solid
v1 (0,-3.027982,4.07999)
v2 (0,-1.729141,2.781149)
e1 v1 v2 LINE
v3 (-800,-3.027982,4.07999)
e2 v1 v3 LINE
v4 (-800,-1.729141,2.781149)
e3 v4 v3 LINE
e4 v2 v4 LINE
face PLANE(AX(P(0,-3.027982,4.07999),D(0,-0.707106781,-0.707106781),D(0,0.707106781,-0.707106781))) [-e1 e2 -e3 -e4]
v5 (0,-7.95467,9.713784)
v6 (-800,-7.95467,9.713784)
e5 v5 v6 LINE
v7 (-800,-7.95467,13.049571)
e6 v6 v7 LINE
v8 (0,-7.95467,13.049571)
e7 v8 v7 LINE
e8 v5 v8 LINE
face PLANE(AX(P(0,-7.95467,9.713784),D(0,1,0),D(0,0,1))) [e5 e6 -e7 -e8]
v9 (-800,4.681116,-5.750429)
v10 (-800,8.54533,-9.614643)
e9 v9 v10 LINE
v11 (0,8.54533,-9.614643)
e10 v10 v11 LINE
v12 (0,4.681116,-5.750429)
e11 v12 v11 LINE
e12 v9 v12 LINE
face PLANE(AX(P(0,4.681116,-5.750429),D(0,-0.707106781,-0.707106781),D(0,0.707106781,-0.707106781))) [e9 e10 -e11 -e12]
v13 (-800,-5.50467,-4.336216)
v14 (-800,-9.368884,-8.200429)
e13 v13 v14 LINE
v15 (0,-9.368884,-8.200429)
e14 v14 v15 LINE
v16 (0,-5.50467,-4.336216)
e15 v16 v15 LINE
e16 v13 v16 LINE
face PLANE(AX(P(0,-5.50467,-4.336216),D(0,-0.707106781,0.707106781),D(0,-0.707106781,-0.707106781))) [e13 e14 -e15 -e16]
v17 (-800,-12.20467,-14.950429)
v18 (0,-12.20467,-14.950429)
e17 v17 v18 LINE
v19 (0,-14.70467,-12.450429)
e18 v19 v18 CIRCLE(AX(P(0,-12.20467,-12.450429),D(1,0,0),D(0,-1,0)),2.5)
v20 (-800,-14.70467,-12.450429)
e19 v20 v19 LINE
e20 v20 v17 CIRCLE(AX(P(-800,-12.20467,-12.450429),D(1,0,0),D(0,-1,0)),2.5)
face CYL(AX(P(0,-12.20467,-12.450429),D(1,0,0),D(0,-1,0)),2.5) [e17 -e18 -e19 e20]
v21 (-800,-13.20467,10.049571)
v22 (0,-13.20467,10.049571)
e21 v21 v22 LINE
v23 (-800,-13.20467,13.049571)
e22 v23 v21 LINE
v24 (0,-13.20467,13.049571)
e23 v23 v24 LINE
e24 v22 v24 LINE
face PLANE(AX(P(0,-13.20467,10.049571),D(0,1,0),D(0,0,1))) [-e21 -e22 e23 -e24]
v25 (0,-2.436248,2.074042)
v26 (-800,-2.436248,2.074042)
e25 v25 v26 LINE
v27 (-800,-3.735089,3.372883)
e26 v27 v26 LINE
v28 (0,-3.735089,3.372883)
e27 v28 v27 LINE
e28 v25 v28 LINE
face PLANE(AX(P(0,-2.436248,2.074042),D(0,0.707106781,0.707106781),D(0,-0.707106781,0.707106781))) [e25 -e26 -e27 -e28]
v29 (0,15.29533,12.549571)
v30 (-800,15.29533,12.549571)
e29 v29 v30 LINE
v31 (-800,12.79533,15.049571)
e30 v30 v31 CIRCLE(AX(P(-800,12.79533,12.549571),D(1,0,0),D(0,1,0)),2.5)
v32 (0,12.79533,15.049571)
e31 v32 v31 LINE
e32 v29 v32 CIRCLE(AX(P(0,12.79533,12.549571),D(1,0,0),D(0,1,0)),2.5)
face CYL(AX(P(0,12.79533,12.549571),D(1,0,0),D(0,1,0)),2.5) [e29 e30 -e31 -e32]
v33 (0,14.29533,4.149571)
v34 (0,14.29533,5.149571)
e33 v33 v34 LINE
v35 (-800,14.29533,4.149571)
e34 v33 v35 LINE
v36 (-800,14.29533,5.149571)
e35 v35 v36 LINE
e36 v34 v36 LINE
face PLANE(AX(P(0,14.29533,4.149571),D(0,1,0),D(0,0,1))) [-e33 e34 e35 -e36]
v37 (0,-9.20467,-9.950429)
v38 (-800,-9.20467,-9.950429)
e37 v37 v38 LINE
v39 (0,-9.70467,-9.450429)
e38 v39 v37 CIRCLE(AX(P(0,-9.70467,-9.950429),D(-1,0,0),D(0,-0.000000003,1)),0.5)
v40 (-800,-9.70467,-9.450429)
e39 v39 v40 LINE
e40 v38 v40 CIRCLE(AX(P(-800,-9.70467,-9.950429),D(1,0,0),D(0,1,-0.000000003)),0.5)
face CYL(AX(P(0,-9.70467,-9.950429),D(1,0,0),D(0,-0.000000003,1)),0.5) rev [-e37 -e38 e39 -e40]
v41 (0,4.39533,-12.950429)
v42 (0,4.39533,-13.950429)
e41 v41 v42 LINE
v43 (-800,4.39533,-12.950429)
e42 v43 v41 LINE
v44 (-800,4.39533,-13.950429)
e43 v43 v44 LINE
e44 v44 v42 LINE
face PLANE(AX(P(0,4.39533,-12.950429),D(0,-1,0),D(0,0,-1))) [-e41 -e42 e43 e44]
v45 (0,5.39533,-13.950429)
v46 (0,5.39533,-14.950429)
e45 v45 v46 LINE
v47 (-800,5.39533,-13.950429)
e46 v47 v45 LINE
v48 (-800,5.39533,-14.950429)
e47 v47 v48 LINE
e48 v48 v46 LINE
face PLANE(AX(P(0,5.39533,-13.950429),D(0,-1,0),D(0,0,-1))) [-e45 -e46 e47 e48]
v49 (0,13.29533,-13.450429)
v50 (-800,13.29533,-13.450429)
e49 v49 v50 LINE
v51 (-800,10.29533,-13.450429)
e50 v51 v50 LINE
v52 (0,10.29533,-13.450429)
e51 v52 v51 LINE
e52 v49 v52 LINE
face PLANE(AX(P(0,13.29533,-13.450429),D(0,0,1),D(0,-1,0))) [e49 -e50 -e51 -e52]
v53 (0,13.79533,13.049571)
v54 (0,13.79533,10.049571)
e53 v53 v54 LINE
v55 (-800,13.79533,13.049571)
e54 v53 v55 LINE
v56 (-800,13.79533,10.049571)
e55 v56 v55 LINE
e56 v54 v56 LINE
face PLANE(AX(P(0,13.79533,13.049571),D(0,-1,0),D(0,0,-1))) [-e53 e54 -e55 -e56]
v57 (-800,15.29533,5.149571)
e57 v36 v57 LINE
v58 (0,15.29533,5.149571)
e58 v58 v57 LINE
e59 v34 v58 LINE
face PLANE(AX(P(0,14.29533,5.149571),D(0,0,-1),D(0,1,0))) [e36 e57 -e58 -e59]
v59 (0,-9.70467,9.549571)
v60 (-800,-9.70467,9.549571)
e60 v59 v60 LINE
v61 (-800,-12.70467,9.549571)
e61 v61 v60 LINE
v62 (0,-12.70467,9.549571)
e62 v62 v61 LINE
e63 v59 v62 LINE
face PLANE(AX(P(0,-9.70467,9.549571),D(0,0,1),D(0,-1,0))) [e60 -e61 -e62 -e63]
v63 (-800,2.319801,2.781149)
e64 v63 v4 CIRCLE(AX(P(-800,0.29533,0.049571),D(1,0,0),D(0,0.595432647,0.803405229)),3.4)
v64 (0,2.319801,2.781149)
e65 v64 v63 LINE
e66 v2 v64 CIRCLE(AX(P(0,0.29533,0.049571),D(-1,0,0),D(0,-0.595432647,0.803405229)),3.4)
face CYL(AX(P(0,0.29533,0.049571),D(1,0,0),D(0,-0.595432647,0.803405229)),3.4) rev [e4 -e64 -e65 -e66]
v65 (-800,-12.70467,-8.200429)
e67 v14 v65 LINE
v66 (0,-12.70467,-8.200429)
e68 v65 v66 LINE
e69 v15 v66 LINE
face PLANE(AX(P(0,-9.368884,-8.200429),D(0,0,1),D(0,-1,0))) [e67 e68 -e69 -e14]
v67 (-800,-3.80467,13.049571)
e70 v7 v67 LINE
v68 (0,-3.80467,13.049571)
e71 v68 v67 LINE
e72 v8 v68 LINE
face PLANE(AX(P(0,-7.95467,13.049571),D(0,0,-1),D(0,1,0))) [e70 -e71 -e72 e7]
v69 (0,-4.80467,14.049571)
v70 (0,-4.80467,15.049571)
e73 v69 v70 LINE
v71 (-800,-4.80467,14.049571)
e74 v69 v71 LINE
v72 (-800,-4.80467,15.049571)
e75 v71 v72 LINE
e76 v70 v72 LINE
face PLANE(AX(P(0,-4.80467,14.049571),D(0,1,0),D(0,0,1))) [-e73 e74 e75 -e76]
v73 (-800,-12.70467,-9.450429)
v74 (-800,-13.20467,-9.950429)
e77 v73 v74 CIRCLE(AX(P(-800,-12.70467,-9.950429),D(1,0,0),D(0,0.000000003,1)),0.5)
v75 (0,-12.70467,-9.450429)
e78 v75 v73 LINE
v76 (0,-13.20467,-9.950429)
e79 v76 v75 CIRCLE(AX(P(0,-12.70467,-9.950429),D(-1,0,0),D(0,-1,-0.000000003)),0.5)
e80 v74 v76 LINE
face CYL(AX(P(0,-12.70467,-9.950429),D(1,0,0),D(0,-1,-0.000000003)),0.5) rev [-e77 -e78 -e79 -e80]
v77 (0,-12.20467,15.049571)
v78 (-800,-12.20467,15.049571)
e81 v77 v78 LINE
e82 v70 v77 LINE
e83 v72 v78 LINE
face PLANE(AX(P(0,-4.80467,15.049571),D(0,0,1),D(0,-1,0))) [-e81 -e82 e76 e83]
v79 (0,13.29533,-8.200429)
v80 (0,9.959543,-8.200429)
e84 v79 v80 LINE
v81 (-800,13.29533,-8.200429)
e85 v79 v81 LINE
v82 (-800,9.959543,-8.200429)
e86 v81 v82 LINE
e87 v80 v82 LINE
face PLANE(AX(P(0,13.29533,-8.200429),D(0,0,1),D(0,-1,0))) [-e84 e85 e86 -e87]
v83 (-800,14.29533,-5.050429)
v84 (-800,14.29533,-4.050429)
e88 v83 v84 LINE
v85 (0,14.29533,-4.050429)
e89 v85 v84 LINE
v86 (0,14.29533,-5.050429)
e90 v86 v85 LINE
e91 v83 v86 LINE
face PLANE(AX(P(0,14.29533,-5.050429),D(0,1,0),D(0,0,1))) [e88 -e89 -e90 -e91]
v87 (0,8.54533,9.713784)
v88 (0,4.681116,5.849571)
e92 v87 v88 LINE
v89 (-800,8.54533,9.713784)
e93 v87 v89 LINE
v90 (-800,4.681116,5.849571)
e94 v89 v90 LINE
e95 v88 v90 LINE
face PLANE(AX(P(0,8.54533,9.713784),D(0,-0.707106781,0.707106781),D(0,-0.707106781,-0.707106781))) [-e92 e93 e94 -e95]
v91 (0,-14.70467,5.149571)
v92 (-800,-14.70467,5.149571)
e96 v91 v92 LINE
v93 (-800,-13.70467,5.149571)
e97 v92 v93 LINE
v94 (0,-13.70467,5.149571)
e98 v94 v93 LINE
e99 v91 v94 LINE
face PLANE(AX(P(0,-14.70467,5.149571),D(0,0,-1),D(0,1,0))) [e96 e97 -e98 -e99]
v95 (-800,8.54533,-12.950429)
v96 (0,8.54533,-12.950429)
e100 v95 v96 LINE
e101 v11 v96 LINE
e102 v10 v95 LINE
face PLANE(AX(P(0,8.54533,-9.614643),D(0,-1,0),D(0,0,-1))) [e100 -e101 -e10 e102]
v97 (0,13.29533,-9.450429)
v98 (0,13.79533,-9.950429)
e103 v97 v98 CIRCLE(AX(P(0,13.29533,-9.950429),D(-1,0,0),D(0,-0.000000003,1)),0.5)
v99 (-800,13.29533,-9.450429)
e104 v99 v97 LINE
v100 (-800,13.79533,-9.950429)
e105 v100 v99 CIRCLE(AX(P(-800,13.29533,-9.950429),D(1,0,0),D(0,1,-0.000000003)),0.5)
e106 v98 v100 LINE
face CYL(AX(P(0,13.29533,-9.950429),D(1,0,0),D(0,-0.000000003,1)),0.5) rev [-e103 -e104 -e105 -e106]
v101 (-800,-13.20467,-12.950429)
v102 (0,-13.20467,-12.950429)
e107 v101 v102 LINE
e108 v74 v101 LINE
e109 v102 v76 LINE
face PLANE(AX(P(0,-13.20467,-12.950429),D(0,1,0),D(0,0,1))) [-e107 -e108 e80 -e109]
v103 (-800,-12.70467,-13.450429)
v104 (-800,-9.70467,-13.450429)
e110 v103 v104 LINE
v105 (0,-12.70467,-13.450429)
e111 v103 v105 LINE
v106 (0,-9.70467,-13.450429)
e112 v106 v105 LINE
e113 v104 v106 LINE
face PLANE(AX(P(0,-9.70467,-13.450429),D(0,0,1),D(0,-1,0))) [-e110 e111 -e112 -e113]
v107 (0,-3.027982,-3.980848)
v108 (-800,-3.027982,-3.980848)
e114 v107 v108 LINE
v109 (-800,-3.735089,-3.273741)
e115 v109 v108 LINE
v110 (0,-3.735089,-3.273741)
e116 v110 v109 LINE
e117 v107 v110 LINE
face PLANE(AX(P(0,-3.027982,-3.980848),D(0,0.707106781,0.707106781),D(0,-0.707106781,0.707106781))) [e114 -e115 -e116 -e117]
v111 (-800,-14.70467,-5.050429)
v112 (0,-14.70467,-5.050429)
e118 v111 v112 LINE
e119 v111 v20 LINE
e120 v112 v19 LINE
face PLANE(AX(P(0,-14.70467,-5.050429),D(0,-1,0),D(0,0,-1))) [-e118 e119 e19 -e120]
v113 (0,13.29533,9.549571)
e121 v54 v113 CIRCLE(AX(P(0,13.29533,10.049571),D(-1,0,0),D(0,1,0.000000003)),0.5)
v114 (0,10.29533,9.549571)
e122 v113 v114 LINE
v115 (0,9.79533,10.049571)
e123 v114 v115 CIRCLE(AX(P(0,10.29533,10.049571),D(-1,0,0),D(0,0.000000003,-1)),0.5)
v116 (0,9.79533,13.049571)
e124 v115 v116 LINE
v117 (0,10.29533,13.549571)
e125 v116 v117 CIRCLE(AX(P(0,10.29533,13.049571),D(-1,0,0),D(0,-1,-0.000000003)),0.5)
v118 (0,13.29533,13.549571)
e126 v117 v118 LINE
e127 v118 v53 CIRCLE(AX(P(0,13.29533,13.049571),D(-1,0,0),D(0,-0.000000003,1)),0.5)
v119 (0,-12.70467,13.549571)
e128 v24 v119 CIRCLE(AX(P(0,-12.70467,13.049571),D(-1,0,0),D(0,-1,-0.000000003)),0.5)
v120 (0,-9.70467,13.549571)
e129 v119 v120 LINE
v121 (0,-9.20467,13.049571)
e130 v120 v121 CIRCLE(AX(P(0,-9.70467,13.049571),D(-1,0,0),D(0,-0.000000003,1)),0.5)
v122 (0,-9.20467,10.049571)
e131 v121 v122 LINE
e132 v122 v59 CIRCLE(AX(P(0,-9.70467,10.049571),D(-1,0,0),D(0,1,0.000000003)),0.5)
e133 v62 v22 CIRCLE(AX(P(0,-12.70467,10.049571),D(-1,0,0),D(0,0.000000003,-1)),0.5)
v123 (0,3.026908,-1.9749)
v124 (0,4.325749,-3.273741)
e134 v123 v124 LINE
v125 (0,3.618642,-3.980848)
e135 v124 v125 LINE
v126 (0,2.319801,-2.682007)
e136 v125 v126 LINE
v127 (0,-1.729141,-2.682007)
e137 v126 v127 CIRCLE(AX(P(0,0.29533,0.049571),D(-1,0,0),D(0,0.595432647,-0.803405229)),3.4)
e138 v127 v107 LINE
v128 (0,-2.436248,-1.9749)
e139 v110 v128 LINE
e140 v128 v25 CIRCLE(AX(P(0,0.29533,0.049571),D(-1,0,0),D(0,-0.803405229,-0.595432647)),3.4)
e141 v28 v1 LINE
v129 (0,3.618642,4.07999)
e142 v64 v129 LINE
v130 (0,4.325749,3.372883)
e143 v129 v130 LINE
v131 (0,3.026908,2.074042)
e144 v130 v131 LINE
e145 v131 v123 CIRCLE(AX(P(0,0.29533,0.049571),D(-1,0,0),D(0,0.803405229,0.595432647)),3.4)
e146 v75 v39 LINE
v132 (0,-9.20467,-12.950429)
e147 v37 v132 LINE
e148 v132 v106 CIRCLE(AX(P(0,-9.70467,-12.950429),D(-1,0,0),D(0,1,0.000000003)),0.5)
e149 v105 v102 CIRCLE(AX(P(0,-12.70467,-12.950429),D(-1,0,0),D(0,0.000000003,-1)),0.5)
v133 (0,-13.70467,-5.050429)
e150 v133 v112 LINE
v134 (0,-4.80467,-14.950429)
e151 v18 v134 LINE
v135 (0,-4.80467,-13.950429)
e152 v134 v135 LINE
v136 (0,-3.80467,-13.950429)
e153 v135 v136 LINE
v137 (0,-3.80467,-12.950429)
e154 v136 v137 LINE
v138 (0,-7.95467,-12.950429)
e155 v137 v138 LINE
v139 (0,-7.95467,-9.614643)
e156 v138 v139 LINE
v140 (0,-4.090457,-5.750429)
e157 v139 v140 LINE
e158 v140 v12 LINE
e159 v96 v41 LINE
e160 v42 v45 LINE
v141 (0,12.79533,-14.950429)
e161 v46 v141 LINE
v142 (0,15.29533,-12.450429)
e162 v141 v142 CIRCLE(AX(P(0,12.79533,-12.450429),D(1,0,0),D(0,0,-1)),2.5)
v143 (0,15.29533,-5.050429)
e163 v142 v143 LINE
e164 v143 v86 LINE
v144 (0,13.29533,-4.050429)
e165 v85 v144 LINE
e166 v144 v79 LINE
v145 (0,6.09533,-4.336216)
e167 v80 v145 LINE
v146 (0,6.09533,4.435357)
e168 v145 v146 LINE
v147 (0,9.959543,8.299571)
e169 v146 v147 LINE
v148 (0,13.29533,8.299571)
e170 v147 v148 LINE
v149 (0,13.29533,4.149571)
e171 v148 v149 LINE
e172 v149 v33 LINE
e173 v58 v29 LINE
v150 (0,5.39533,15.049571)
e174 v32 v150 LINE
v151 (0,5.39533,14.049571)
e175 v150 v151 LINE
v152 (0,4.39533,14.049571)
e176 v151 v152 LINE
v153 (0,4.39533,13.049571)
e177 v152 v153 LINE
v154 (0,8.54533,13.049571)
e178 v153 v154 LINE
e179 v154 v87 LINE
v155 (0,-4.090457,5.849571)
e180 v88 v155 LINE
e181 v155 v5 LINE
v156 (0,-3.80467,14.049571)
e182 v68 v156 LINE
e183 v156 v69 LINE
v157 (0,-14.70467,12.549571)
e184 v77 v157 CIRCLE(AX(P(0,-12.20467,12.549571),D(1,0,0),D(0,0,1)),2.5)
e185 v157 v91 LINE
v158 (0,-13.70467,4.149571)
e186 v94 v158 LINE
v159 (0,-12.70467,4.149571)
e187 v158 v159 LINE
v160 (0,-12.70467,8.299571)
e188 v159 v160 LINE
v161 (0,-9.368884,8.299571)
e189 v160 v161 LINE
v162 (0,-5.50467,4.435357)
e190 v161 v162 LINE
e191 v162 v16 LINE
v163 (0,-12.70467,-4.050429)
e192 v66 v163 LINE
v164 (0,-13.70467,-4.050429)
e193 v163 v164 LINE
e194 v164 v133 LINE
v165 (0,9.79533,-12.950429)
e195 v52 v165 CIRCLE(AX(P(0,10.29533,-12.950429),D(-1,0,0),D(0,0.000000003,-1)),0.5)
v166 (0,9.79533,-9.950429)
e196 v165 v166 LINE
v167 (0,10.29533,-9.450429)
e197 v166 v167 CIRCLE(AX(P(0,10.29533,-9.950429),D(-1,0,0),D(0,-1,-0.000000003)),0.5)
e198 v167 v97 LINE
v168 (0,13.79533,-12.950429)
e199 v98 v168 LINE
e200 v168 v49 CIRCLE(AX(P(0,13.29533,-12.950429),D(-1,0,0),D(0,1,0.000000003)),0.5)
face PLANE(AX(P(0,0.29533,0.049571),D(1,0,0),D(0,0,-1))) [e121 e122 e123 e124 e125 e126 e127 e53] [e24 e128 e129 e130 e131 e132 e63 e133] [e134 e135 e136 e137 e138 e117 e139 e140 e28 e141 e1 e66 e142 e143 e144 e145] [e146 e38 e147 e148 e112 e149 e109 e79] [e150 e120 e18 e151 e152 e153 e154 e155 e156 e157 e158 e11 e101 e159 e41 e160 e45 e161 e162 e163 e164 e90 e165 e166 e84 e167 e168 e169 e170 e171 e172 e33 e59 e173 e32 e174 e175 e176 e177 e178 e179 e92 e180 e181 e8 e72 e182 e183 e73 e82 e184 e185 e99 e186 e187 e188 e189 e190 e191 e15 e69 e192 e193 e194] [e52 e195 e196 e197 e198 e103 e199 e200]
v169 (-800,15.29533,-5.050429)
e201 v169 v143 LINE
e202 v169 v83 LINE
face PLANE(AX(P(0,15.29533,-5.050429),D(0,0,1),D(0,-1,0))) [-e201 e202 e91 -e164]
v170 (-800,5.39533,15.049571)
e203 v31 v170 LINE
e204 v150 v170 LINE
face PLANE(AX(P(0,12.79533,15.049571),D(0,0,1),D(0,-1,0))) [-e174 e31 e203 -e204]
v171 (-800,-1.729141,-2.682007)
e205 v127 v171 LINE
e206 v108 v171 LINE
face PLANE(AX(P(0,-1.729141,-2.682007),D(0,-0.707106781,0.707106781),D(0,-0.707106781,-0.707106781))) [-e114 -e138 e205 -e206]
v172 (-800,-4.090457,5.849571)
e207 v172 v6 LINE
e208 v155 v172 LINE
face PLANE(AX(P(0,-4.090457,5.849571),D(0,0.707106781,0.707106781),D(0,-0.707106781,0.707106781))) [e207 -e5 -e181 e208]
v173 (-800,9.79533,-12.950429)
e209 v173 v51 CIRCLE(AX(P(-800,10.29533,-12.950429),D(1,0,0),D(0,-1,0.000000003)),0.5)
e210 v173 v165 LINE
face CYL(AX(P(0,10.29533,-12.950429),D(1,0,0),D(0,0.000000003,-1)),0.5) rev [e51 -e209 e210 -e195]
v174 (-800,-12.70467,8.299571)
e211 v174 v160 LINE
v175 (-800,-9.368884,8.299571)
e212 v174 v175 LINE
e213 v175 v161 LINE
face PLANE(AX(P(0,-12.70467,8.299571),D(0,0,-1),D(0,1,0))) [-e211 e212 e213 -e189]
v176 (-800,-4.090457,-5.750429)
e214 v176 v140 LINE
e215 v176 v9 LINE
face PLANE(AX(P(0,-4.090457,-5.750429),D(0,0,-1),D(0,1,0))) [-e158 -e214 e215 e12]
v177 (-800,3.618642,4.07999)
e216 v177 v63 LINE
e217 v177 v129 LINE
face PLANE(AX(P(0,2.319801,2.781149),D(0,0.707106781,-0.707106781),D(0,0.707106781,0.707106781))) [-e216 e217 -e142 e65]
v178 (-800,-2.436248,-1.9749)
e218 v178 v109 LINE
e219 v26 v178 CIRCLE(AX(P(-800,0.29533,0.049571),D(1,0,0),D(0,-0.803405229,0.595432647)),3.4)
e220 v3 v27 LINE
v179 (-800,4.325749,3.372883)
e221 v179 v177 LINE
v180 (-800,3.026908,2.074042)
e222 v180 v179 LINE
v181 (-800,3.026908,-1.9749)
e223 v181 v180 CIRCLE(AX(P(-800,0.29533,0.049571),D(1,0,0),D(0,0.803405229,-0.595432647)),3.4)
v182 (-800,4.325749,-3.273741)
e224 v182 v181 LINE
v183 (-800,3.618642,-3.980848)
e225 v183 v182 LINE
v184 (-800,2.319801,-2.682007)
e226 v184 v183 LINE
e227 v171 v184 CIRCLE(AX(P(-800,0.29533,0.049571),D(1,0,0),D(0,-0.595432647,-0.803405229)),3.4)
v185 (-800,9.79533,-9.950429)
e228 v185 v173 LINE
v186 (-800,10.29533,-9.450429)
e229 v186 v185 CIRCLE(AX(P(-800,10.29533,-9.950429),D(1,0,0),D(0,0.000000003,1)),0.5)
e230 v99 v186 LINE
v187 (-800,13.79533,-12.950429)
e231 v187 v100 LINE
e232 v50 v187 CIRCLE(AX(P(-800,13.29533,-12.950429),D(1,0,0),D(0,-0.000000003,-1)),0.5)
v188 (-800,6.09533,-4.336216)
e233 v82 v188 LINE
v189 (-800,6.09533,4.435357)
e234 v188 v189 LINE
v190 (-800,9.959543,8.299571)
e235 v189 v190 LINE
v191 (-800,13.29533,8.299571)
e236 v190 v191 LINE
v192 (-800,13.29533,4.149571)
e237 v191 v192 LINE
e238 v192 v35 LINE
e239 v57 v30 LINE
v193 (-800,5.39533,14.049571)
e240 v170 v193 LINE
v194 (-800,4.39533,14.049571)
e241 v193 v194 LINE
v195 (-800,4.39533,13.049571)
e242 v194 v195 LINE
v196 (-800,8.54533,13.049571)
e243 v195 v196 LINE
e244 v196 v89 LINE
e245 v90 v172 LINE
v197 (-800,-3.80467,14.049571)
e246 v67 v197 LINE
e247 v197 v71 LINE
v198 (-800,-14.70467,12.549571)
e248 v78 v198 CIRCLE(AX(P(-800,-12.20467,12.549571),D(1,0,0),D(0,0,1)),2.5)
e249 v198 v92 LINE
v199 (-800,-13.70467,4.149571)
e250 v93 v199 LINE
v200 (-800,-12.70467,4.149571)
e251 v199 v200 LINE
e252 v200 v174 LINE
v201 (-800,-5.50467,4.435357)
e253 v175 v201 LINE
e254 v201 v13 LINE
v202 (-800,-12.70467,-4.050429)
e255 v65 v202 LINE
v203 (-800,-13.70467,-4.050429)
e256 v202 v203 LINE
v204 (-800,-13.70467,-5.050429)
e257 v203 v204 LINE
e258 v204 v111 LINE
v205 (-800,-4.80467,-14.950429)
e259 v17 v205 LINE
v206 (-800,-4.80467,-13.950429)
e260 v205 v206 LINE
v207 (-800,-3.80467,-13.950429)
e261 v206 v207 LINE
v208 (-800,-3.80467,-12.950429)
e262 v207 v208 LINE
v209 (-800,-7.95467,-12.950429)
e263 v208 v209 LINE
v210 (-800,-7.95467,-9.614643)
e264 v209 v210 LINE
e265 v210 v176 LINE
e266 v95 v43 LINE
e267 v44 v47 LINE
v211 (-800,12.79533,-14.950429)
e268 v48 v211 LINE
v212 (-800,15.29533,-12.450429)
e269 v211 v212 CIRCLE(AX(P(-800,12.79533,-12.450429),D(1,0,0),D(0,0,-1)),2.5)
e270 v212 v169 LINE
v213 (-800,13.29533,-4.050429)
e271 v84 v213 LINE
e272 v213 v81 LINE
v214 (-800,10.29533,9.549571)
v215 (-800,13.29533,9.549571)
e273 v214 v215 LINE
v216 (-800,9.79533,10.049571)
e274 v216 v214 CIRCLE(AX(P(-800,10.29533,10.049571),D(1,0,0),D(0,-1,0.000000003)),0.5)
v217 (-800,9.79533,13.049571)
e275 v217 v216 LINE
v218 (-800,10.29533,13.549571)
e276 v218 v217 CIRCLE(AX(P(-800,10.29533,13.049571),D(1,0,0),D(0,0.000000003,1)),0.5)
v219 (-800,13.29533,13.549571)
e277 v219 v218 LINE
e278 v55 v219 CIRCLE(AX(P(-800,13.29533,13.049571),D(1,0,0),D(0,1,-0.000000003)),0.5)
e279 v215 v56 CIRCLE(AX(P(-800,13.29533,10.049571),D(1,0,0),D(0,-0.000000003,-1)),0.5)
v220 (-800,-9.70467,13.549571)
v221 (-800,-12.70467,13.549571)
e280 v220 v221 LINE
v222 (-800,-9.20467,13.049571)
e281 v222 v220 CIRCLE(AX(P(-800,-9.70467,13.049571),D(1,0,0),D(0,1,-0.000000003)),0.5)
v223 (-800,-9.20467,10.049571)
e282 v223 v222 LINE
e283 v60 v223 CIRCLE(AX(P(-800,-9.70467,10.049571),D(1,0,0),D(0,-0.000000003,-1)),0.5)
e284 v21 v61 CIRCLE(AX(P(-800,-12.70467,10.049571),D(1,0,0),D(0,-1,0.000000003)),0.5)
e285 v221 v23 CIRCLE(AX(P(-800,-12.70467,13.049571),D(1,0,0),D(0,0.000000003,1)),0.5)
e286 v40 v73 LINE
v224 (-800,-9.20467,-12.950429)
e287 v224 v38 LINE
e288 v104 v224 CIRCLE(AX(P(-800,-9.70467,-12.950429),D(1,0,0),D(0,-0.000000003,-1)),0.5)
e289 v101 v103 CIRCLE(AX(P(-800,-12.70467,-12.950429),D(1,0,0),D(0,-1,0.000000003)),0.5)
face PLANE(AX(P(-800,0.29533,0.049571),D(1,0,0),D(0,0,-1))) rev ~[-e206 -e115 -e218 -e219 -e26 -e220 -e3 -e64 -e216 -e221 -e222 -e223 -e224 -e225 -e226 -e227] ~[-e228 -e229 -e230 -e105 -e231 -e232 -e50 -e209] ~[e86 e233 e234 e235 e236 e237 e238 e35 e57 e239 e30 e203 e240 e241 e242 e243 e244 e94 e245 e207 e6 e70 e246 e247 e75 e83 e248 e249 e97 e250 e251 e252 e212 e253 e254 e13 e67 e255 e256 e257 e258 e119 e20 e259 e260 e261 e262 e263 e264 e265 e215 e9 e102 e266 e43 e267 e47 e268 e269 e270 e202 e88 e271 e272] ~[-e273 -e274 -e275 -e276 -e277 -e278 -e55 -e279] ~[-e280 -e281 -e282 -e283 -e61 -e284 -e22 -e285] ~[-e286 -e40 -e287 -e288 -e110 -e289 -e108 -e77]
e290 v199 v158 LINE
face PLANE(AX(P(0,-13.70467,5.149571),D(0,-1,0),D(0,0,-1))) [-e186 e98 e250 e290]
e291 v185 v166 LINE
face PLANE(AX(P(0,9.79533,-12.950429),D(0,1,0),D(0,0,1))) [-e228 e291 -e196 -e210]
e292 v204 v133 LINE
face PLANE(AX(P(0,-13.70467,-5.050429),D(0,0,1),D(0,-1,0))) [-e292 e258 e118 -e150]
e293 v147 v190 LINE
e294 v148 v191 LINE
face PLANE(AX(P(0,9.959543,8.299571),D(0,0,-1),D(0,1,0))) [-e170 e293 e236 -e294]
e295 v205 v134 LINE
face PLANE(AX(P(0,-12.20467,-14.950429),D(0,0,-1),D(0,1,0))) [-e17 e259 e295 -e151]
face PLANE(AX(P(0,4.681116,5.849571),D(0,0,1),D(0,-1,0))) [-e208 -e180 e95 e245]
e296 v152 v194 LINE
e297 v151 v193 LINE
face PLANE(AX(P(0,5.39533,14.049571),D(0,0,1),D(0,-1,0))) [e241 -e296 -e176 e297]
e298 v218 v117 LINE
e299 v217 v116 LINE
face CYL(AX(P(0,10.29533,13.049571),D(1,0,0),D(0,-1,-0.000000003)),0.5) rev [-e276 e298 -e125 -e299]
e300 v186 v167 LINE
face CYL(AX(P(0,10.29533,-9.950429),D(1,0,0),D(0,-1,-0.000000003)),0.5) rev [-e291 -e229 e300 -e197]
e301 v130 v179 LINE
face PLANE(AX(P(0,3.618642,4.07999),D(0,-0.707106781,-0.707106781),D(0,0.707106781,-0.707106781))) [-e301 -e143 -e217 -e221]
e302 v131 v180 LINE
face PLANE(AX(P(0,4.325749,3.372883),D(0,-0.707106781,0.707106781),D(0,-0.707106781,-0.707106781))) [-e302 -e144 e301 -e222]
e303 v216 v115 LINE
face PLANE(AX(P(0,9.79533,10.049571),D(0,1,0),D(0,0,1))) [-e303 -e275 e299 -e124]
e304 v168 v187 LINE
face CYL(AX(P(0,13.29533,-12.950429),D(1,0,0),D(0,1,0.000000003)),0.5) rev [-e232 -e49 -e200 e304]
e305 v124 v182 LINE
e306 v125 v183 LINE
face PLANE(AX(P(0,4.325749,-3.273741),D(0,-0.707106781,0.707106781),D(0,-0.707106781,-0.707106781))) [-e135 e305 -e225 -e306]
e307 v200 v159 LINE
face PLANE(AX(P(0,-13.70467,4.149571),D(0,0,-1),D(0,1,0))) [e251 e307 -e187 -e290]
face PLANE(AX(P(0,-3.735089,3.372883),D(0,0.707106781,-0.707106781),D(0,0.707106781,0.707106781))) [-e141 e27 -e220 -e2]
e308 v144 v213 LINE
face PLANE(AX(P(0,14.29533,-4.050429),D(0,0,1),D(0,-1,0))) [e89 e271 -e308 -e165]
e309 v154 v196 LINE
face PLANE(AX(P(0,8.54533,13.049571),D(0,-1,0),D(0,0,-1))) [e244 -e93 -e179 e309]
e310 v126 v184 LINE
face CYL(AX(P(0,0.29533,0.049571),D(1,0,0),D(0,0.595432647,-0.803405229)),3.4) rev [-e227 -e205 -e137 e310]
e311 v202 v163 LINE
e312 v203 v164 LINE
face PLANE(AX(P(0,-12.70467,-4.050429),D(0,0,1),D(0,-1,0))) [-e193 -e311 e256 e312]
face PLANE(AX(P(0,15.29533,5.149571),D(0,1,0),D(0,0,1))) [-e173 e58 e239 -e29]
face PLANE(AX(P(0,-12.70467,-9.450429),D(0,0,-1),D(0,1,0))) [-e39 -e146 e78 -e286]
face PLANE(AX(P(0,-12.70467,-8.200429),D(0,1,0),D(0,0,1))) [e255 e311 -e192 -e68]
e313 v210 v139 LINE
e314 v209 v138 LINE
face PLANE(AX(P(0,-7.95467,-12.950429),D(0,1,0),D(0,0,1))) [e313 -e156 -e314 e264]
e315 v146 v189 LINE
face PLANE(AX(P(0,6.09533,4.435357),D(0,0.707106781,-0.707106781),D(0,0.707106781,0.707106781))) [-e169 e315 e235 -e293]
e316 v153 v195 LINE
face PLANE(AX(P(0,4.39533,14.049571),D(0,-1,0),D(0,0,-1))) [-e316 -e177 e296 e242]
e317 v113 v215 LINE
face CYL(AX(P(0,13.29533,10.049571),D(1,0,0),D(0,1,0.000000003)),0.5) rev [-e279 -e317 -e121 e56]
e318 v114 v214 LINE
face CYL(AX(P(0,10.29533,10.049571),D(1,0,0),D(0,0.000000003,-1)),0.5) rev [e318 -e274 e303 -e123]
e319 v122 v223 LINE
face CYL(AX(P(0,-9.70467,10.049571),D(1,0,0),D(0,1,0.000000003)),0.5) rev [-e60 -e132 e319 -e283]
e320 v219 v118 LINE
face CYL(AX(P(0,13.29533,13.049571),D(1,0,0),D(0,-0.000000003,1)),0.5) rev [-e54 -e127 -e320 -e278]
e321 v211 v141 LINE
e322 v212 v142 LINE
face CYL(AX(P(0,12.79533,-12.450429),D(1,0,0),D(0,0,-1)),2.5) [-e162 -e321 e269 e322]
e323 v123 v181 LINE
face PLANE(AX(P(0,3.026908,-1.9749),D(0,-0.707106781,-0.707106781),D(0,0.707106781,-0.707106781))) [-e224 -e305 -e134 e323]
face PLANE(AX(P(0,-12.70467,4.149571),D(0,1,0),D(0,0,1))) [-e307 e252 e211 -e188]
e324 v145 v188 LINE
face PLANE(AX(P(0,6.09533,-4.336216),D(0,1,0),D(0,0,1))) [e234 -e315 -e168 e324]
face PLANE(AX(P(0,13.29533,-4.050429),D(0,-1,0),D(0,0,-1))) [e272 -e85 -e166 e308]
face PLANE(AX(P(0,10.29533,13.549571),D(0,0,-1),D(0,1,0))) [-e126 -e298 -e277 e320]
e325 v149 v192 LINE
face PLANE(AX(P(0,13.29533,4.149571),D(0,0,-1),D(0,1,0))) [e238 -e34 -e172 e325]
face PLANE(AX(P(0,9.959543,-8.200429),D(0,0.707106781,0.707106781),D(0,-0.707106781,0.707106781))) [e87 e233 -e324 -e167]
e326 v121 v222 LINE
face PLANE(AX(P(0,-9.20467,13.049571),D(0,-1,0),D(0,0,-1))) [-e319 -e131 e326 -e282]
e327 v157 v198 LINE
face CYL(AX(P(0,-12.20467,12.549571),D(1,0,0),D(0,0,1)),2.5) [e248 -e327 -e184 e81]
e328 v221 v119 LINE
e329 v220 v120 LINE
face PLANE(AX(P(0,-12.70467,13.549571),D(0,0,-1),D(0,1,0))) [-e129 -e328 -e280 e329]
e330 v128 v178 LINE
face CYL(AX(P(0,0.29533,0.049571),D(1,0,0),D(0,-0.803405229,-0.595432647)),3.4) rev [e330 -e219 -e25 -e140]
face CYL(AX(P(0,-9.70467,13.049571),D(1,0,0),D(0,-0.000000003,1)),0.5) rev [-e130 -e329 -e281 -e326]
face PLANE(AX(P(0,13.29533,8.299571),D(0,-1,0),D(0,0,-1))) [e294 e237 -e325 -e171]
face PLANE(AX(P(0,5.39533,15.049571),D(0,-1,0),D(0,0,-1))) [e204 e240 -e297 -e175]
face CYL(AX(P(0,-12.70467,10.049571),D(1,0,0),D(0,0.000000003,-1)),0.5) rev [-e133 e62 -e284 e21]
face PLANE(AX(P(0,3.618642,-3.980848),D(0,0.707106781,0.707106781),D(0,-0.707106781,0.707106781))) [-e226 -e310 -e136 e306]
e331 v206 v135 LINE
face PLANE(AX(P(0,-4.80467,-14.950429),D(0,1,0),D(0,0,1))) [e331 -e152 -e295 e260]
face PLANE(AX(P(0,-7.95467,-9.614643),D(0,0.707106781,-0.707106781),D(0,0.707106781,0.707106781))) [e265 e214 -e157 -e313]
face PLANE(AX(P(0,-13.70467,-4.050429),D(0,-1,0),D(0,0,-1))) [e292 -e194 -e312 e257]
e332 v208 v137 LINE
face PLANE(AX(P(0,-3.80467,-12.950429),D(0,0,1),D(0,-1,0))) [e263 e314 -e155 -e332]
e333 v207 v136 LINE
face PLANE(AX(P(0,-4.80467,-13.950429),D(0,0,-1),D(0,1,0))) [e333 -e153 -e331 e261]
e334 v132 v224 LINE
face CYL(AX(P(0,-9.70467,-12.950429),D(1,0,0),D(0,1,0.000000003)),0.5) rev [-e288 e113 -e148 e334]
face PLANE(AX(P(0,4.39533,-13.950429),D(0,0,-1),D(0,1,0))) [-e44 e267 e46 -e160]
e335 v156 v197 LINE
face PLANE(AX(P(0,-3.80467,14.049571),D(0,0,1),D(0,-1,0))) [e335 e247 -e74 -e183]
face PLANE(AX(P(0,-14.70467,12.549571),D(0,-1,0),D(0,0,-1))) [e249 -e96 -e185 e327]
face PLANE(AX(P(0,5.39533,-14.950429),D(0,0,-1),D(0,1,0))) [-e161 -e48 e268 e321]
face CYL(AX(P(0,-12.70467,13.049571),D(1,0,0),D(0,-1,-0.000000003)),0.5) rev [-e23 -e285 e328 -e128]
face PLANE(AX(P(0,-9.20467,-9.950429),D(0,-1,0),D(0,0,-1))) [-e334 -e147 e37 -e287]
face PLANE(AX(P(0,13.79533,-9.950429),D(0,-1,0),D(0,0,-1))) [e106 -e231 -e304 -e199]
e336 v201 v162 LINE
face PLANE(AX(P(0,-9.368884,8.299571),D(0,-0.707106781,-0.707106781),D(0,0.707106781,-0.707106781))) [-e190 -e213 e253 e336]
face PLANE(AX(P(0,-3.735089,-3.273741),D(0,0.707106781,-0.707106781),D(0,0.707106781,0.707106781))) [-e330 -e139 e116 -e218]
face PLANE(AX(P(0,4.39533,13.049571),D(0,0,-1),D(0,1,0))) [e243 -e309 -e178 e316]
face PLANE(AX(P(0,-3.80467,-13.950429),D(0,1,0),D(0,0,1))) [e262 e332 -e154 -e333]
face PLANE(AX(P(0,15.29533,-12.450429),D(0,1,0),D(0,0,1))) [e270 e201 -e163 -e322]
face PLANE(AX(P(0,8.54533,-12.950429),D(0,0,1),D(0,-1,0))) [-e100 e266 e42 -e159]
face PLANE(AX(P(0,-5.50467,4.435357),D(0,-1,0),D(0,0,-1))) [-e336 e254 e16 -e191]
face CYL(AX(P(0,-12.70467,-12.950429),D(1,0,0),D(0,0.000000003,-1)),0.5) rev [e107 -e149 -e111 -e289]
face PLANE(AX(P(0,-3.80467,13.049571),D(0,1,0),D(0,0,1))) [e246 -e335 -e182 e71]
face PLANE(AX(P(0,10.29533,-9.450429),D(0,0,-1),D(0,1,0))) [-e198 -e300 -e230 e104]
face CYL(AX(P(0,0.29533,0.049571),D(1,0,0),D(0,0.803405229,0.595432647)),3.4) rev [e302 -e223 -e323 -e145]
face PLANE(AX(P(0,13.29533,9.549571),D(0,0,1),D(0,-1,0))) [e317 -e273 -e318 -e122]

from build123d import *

# Parameters (mm, degrees)
EXTRUDE_1_DEPTH = 50
EXTRUDE_2_DEPTH = 800


with BuildPart() as part:
    # 草图1 → 凸台-拉伸1 (new body)
    with BuildSketch(Plane(origin=(0, 0, 0), x_dir=(0, 0, -1), z_dir=(1, 0, 0))):
        with BuildLine():
            Line((-5.14957074, -13.70467014), (-4.14957074, -13.70467014))
            Line((-4.14957074, -13.70467014), (-4.14957074, -12.70467014))
            Line((-4.14957074, -12.70467014), (-8.29957074, -12.70467014))
            Line((-8.29957074, -12.70467014), (-8.29957074, -9.3688837))
            Line((-8.29957074, -9.3688837), (-4.43535718, -5.50467014))
            Line((-4.43535718, -5.50467014), (4.3362157, -5.50467014))
            Line((4.3362157, -5.50467014), (8.20042926, -9.3688837))
            Line((8.20042926, -9.3688837), (8.20042926, -12.70467014))
            Line((8.20042926, -12.70467014), (4.05042926, -12.70467014))
            Line((4.05042926, -12.70467014), (4.05042926, -13.70467014))
            Line((4.05042926, -13.70467014), (5.05042926, -13.70467014))
            Line((5.05042926, -13.70467014), (5.05042926, -14.70467014))
            Line((5.05042926, -14.70467014), (12.45042926, -14.70467014))
            ThreePointArc((12.45042926, -14.70467014), (14.218196213, -13.972437093), (14.95042926, -12.20467014))
            Line((14.95042926, -12.20467014), (14.95042926, -4.80467014))
            Line((14.95042926, -4.80467014), (13.95042926, -4.80467014))
            Line((13.95042926, -4.80467014), (13.95042926, -3.80467014))
            Line((13.95042926, -3.80467014), (12.95042926, -3.80467014))
            Line((12.95042926, -3.80467014), (12.95042926, -7.95467014))
            Line((12.95042926, -7.95467014), (9.61464282, -7.95467014))
            Line((9.61464282, -7.95467014), (5.75042926, -4.09045658))
            Line((5.75042926, -4.09045658), (5.75042926, 4.6811163))
            Line((5.75042926, 4.6811163), (9.61464282, 8.54532986))
            Line((9.61464282, 8.54532986), (12.95042926, 8.54532986))
            Line((12.95042926, 8.54532986), (12.95042926, 4.39532986))
            Line((12.95042926, 4.39532986), (13.95042926, 4.39532986))
            Line((13.95042926, 4.39532986), (13.95042926, 5.39532986))
            Line((13.95042926, 5.39532986), (14.95042926, 5.39532986))
            Line((14.95042926, 5.39532986), (14.95042926, 12.79532986))
            ThreePointArc((14.95042926, 12.79532986), (14.218196213, 14.563096813), (12.45042926, 15.29532986))
            Line((12.45042926, 15.29532986), (5.05042926, 15.29532986))
            Line((5.05042926, 15.29532986), (5.05042926, 14.29532986))
            Line((5.05042926, 14.29532986), (4.05042926, 14.29532986))
            Line((4.05042926, 14.29532986), (4.05042926, 13.29532986))
            Line((4.05042926, 13.29532986), (8.20042926, 13.29532986))
            Line((8.20042926, 13.29532986), (8.20042926, 9.95954342))
            Line((8.20042926, 9.95954342), (4.3362157, 6.09532986))
            Line((4.3362157, 6.09532986), (-4.43535718, 6.09532986))
            Line((-4.43535718, 6.09532986), (-8.29957074, 9.95954342))
            Line((-8.29957074, 9.95954342), (-8.29957074, 13.29532986))
            Line((-8.29957074, 13.29532986), (-4.14957074, 13.29532986))
            Line((-4.14957074, 13.29532986), (-4.14957074, 14.29532986))
            Line((-4.14957074, 14.29532986), (-5.14957074, 14.29532986))
            Line((-5.14957074, 14.29532986), (-5.14957074, 15.29532986))
            Line((-5.14957074, 15.29532986), (-12.54957074, 15.29532986))
            ThreePointArc((-12.54957074, 15.29532986), (-14.317337693, 14.563096813), (-15.04957074, 12.79532986))
            Line((-15.04957074, 12.79532986), (-15.04957074, 5.39532986))
            Line((-15.04957074, 5.39532986), (-14.04957074, 5.39532986))
            Line((-14.04957074, 5.39532986), (-14.04957074, 4.39532986))
            Line((-14.04957074, 4.39532986), (-13.04957074, 4.39532986))
            Line((-13.04957074, 4.39532986), (-13.04957074, 8.54532986))
            Line((-13.04957074, 8.54532986), (-9.7137843, 8.54532986))
            Line((-9.7137843, 8.54532986), (-5.84957074, 4.6811163))
            Line((-5.84957074, 4.6811163), (-5.84957074, -4.09045658))
            Line((-5.84957074, -4.09045658), (-9.7137843, -7.95467014))
            Line((-9.7137843, -7.95467014), (-13.04957074, -7.95467014))
            Line((-13.04957074, -7.95467014), (-13.04957074, -3.80467014))
            Line((-13.04957074, -3.80467014), (-14.04957074, -3.80467014))
            Line((-14.04957074, -3.80467014), (-14.04957074, -4.80467014))
            Line((-14.04957074, -4.80467014), (-15.04957074, -4.80467014))
            Line((-15.04957074, -4.80467014), (-15.04957074, -12.20467014))
            ThreePointArc((-15.04957074, -12.20467014), (-14.317337693, -13.972437093), (-12.54957074, -14.70467014))
            Line((-12.54957074, -14.70467014), (-5.14957074, -14.70467014))
            Line((-5.14957074, -14.70467014), (-5.14957074, -13.70467014))
        make_face()
        with BuildLine():
            Line((-10.04957074, 9.79532986), (-13.04957074, 9.79532986))
            ThreePointArc((-13.04957074, 9.79532986), (-13.403124131, 9.941776469), (-13.54957074, 10.29532986))
            Line((-13.54957074, 10.29532986), (-13.54957074, 13.29532986))
            ThreePointArc((-13.54957074, 13.29532986), (-13.403124131, 13.648883251), (-13.04957074, 13.79532986))
            Line((-13.04957074, 13.79532986), (-10.04957074, 13.79532986))
            ThreePointArc((-10.04957074, 13.79532986), (-9.696017349, 13.648883251), (-9.54957074, 13.29532986))
            Line((-9.54957074, 13.29532986), (-9.54957074, 10.29532986))
            ThreePointArc((-9.54957074, 10.29532986), (-9.696017349, 9.941776469), (-10.04957074, 9.79532986))
        make_face(mode=Mode.SUBTRACT)
        with BuildLine():
            Line((-10.04957074, -13.20467014), (-13.04957074, -13.20467014))
            ThreePointArc((-13.04957074, -13.20467014), (-13.403124131, -13.058223531), (-13.54957074, -12.70467014))
            Line((-13.54957074, -12.70467014), (-13.54957074, -9.70467014))
            ThreePointArc((-13.54957074, -9.70467014), (-13.403124131, -9.351116749), (-13.04957074, -9.20467014))
            Line((-13.04957074, -9.20467014), (-10.04957074, -9.20467014))
            ThreePointArc((-10.04957074, -9.20467014), (-9.696017349, -9.351116749), (-9.54957074, -9.70467014))
            Line((-9.54957074, -9.70467014), (-9.54957074, -12.70467014))
            ThreePointArc((-9.54957074, -12.70467014), (-9.696017349, -13.058223531), (-10.04957074, -13.20467014))
        make_face(mode=Mode.SUBTRACT)
        with BuildLine():
            Line((12.95042926, 9.79532986), (9.95042926, 9.79532986))
            ThreePointArc((9.95042926, 9.79532986), (9.596875869, 9.941776469), (9.45042926, 10.29532986))
            Line((9.45042926, 10.29532986), (9.45042926, 13.29532986))
            ThreePointArc((9.45042926, 13.29532986), (9.596875869, 13.648883251), (9.95042926, 13.79532986))
            Line((9.95042926, 13.79532986), (12.95042926, 13.79532986))
            ThreePointArc((12.95042926, 13.79532986), (13.303982651, 13.648883251), (13.45042926, 13.29532986))
            Line((13.45042926, 13.29532986), (13.45042926, 10.29532986))
            ThreePointArc((13.45042926, 10.29532986), (13.303982651, 9.941776469), (12.95042926, 9.79532986))
        make_face(mode=Mode.SUBTRACT)
        with BuildLine():
            Line((13.45042926, -9.70467014), (13.45042926, -12.70467014))
            ThreePointArc((13.45042926, -12.70467014), (13.303982651, -13.058223531), (12.95042926, -13.20467014))
            Line((12.95042926, -13.20467014), (9.95042926, -13.20467014))
            ThreePointArc((9.95042926, -13.20467014), (9.596875869, -13.058223531), (9.45042926, -12.70467014))
            Line((9.45042926, -12.70467014), (9.45042926, -9.70467014))
            ThreePointArc((9.45042926, -9.70467014), (9.596875869, -9.351116749), (9.95042926, -9.20467014))
            Line((9.95042926, -9.20467014), (12.95042926, -9.20467014))
            ThreePointArc((12.95042926, -9.20467014), (13.303982651, -9.351116749), (13.45042926, -9.70467014))
        make_face(mode=Mode.SUBTRACT)
        with BuildLine():
            Line((-4.07998961, 3.61864195), (-3.37288283, 4.32574873))
            Line((-3.37288283, 4.32574873), (-2.07404174, 3.02690764))
            ThreePointArc((-2.07404174, 3.02690764), (-0.04957074, 3.69532986), (1.97490026, 3.02690764))
            Line((1.97490026, 3.02690764), (3.27374135, 4.32574873))
            Line((3.27374135, 4.32574873), (3.98084813, 3.61864195))
            Line((3.98084813, 3.61864195), (2.68200704, 2.31980086))
            ThreePointArc((2.68200704, 2.31980086), (3.35042926, 0.29532986), (2.68200704, -1.72914114))
            Line((2.68200704, -1.72914114), (3.98084813, -3.02798223))
            Line((3.98084813, -3.02798223), (3.27374135, -3.73508901))
            Line((3.27374135, -3.73508901), (1.97490026, -2.43624792))
            ThreePointArc((1.97490026, -2.43624792), (-0.04957074, -3.10467014), (-2.07404174, -2.43624792))
            Line((-2.07404174, -2.43624792), (-3.37288283, -3.73508901))
            Line((-3.37288283, -3.73508901), (-4.07998961, -3.02798223))
            Line((-4.07998961, -3.02798223), (-2.78114852, -1.72914114))
            ThreePointArc((-2.78114852, -1.72914114), (-3.44957074, 0.29532986), (-2.78114852, 2.31980086))
            Line((-2.78114852, 2.31980086), (-4.07998961, 3.61864195))
        make_face(mode=Mode.SUBTRACT)
    extrude(amount=-EXTRUDE_1_DEPTH)

    # 草图2 → 凸台-拉伸2 (add)
    with BuildSketch(Plane(origin=(0, 0, 0), x_dir=(0, 0, -1), z_dir=(1, 0, 0))):
        with BuildLine():
            Line((-15.04957074, -4.80467014), (-15.04957074, -12.20467014))
            ThreePointArc((-15.04957074, -12.20467014), (-14.317337693, -13.972437093), (-12.54957074, -14.70467014))
            Line((-12.54957074, -14.70467014), (-5.14957074, -14.70467014))
            Line((-5.14957074, -14.70467014), (-5.14957074, -13.70467014))
            Line((-5.14957074, -13.70467014), (-4.14957074, -13.70467014))
            Line((-4.14957074, -13.70467014), (-4.14957074, -12.70467014))
            Line((-4.14957074, -12.70467014), (-8.29957074, -12.70467014))
            Line((-8.29957074, -12.70467014), (-8.29957074, -9.3688837))
            Line((-8.29957074, -9.3688837), (-4.43535718, -5.50467014))
            Line((-4.43535718, -5.50467014), (4.3362157, -5.50467014))
            Line((4.3362157, -5.50467014), (8.20042926, -9.3688837))
            Line((8.20042926, -9.3688837), (8.20042926, -12.70467014))
            Line((8.20042926, -12.70467014), (4.05042926, -12.70467014))
            Line((4.05042926, -12.70467014), (4.05042926, -13.70467014))
            Line((4.05042926, -13.70467014), (5.05042926, -13.70467014))
            Line((5.05042926, -13.70467014), (5.05042926, -14.70467014))
            Line((5.05042926, -14.70467014), (12.45042926, -14.70467014))
            ThreePointArc((12.45042926, -14.70467014), (14.218196213, -13.972437093), (14.95042926, -12.20467014))
            Line((14.95042926, -12.20467014), (14.95042926, -4.80467014))
            Line((14.95042926, -4.80467014), (13.95042926, -4.80467014))
            Line((13.95042926, -4.80467014), (13.95042926, -3.80467014))
            Line((13.95042926, -3.80467014), (12.95042926, -3.80467014))
            Line((12.95042926, -3.80467014), (12.95042926, -7.95467014))
            Line((12.95042926, -7.95467014), (9.61464282, -7.95467014))
            Line((9.61464282, -7.95467014), (5.75042926, -4.09045658))
            Line((5.75042926, -4.09045658), (5.75042926, 4.6811163))
            Line((5.75042926, 4.6811163), (9.61464282, 8.54532986))
            Line((9.61464282, 8.54532986), (12.95042926, 8.54532986))
            Line((12.95042926, 8.54532986), (12.95042926, 4.39532986))
            Line((12.95042926, 4.39532986), (13.95042926, 4.39532986))
            Line((13.95042926, 4.39532986), (13.95042926, 5.39532986))
            Line((13.95042926, 5.39532986), (14.95042926, 5.39532986))
            Line((14.95042926, 5.39532986), (14.95042926, 12.79532986))
            ThreePointArc((14.95042926, 12.79532986), (14.218196213, 14.563096813), (12.45042926, 15.29532986))
            Line((12.45042926, 15.29532986), (5.05042926, 15.29532986))
            Line((5.05042926, 15.29532986), (5.05042926, 14.29532986))
            Line((5.05042926, 14.29532986), (4.05042926, 14.29532986))
            Line((4.05042926, 14.29532986), (4.05042926, 13.29532986))
            Line((4.05042926, 13.29532986), (8.20042926, 13.29532986))
            Line((8.20042926, 13.29532986), (8.20042926, 9.95954342))
            Line((8.20042926, 9.95954342), (4.3362157, 6.09532986))
            Line((4.3362157, 6.09532986), (-4.43535718, 6.09532986))
            Line((-4.43535718, 6.09532986), (-8.29957074, 9.95954342))
            Line((-8.29957074, 9.95954342), (-8.29957074, 13.29532986))
            Line((-8.29957074, 13.29532986), (-4.14957074, 13.29532986))
            Line((-4.14957074, 13.29532986), (-4.14957074, 14.29532986))
            Line((-4.14957074, 14.29532986), (-5.14957074, 14.29532986))
            Line((-5.14957074, 14.29532986), (-5.14957074, 15.29532986))
            Line((-5.14957074, 15.29532986), (-12.54957074, 15.29532986))
            ThreePointArc((-12.54957074, 15.29532986), (-14.317337693, 14.563096813), (-15.04957074, 12.79532986))
            Line((-15.04957074, 12.79532986), (-15.04957074, 5.39532986))
            Line((-15.04957074, 5.39532986), (-14.04957074, 5.39532986))
            Line((-14.04957074, 5.39532986), (-14.04957074, 4.39532986))
            Line((-14.04957074, 4.39532986), (-13.04957074, 4.39532986))
            Line((-13.04957074, 4.39532986), (-13.04957074, 8.54532986))
            Line((-13.04957074, 8.54532986), (-9.7137843, 8.54532986))
            Line((-9.7137843, 8.54532986), (-5.84957074, 4.6811163))
            Line((-5.84957074, 4.6811163), (-5.84957074, -4.09045658))
            Line((-5.84957074, -4.09045658), (-9.7137843, -7.95467014))
            Line((-9.7137843, -7.95467014), (-13.04957074, -7.95467014))
            Line((-13.04957074, -7.95467014), (-13.04957074, -3.80467014))
            Line((-13.04957074, -3.80467014), (-14.04957074, -3.80467014))
            Line((-14.04957074, -3.80467014), (-14.04957074, -4.80467014))
            Line((-14.04957074, -4.80467014), (-15.04957074, -4.80467014))
        make_face()
        with BuildLine():
            Line((-13.04957074, 9.79532986), (-10.04957074, 9.79532986))
            ThreePointArc((-10.04957074, 9.79532986), (-9.696017349, 9.941776469), (-9.54957074, 10.29532986))
            Line((-9.54957074, 10.29532986), (-9.54957074, 13.29532986))
            ThreePointArc((-9.54957074, 13.29532986), (-9.696017349, 13.648883251), (-10.04957074, 13.79532986))
            Line((-10.04957074, 13.79532986), (-13.04957074, 13.79532986))
            ThreePointArc((-13.04957074, 13.79532986), (-13.403124131, 13.648883251), (-13.54957074, 13.29532986))
            Line((-13.54957074, 13.29532986), (-13.54957074, 10.29532986))
            ThreePointArc((-13.54957074, 10.29532986), (-13.403124131, 9.941776469), (-13.04957074, 9.79532986))
        make_face(mode=Mode.SUBTRACT)
        with BuildLine():
            Line((-13.04957074, -13.20467014), (-10.04957074, -13.20467014))
            ThreePointArc((-10.04957074, -13.20467014), (-9.696017349, -13.058223531), (-9.54957074, -12.70467014))
            Line((-9.54957074, -12.70467014), (-9.54957074, -9.70467014))
            ThreePointArc((-9.54957074, -9.70467014), (-9.696017349, -9.351116749), (-10.04957074, -9.20467014))
            Line((-10.04957074, -9.20467014), (-13.04957074, -9.20467014))
            ThreePointArc((-13.04957074, -9.20467014), (-13.403124131, -9.351116749), (-13.54957074, -9.70467014))
            Line((-13.54957074, -9.70467014), (-13.54957074, -12.70467014))
            ThreePointArc((-13.54957074, -12.70467014), (-13.403124131, -13.058223531), (-13.04957074, -13.20467014))
        make_face(mode=Mode.SUBTRACT)
        with BuildLine():
            Line((9.45042926, 13.29532986), (9.45042926, 10.29532986))
            ThreePointArc((9.45042926, 10.29532986), (9.596875869, 9.941776469), (9.95042926, 9.79532986))
            Line((9.95042926, 9.79532986), (12.95042926, 9.79532986))
            ThreePointArc((12.95042926, 9.79532986), (13.303982651, 9.941776469), (13.45042926, 10.29532986))
            Line((13.45042926, 10.29532986), (13.45042926, 13.29532986))
            ThreePointArc((13.45042926, 13.29532986), (13.303982651, 13.648883251), (12.95042926, 13.79532986))
            Line((12.95042926, 13.79532986), (9.95042926, 13.79532986))
            ThreePointArc((9.95042926, 13.79532986), (9.596875869, 13.648883251), (9.45042926, 13.29532986))
        make_face(mode=Mode.SUBTRACT)
        with BuildLine():
            Line((9.45042926, -9.70467014), (9.45042926, -12.70467014))
            ThreePointArc((9.45042926, -12.70467014), (9.596875869, -13.058223531), (9.95042926, -13.20467014))
            Line((9.95042926, -13.20467014), (12.95042926, -13.20467014))
            ThreePointArc((12.95042926, -13.20467014), (13.303982651, -13.058223531), (13.45042926, -12.70467014))
            Line((13.45042926, -12.70467014), (13.45042926, -9.70467014))
            ThreePointArc((13.45042926, -9.70467014), (13.303982651, -9.351116749), (12.95042926, -9.20467014))
            Line((12.95042926, -9.20467014), (9.95042926, -9.20467014))
            ThreePointArc((9.95042926, -9.20467014), (9.596875869, -9.351116749), (9.45042926, -9.70467014))
        make_face(mode=Mode.SUBTRACT)
        with BuildLine():
            Line((-3.37288283, -3.73508901), (-2.07404174, -2.43624792))
            ThreePointArc((-2.07404174, -2.43624792), (-0.04957074, -3.10467014), (1.97490026, -2.43624792))
            Line((1.97490026, -2.43624792), (3.27374135, -3.73508901))
            Line((3.27374135, -3.73508901), (3.98084813, -3.02798223))
            Line((3.98084813, -3.02798223), (2.68200704, -1.72914114))
            ThreePointArc((2.68200704, -1.72914114), (3.35042926, 0.29532986), (2.68200704, 2.31980086))
            Line((2.68200704, 2.31980086), (3.98084813, 3.61864195))
            Line((3.98084813, 3.61864195), (3.27374135, 4.32574873))
            Line((3.27374135, 4.32574873), (1.97490026, 3.02690764))
            ThreePointArc((1.97490026, 3.02690764), (-0.04957074, 3.69532986), (-2.07404174, 3.02690764))
            Line((-2.07404174, 3.02690764), (-3.37288283, 4.32574873))
            Line((-3.37288283, 4.32574873), (-4.07998961, 3.61864195))
            Line((-4.07998961, 3.61864195), (-2.78114852, 2.31980086))
            ThreePointArc((-2.78114852, 2.31980086), (-3.44957074, 0.29532986), (-2.78114852, -1.72914114))
            Line((-2.78114852, -1.72914114), (-4.07998961, -3.02798223))
            Line((-4.07998961, -3.02798223), (-3.37288283, -3.73508901))
        make_face(mode=Mode.SUBTRACT)
    extrude(amount=-EXTRUDE_2_DEPTH)


solid = part.part
